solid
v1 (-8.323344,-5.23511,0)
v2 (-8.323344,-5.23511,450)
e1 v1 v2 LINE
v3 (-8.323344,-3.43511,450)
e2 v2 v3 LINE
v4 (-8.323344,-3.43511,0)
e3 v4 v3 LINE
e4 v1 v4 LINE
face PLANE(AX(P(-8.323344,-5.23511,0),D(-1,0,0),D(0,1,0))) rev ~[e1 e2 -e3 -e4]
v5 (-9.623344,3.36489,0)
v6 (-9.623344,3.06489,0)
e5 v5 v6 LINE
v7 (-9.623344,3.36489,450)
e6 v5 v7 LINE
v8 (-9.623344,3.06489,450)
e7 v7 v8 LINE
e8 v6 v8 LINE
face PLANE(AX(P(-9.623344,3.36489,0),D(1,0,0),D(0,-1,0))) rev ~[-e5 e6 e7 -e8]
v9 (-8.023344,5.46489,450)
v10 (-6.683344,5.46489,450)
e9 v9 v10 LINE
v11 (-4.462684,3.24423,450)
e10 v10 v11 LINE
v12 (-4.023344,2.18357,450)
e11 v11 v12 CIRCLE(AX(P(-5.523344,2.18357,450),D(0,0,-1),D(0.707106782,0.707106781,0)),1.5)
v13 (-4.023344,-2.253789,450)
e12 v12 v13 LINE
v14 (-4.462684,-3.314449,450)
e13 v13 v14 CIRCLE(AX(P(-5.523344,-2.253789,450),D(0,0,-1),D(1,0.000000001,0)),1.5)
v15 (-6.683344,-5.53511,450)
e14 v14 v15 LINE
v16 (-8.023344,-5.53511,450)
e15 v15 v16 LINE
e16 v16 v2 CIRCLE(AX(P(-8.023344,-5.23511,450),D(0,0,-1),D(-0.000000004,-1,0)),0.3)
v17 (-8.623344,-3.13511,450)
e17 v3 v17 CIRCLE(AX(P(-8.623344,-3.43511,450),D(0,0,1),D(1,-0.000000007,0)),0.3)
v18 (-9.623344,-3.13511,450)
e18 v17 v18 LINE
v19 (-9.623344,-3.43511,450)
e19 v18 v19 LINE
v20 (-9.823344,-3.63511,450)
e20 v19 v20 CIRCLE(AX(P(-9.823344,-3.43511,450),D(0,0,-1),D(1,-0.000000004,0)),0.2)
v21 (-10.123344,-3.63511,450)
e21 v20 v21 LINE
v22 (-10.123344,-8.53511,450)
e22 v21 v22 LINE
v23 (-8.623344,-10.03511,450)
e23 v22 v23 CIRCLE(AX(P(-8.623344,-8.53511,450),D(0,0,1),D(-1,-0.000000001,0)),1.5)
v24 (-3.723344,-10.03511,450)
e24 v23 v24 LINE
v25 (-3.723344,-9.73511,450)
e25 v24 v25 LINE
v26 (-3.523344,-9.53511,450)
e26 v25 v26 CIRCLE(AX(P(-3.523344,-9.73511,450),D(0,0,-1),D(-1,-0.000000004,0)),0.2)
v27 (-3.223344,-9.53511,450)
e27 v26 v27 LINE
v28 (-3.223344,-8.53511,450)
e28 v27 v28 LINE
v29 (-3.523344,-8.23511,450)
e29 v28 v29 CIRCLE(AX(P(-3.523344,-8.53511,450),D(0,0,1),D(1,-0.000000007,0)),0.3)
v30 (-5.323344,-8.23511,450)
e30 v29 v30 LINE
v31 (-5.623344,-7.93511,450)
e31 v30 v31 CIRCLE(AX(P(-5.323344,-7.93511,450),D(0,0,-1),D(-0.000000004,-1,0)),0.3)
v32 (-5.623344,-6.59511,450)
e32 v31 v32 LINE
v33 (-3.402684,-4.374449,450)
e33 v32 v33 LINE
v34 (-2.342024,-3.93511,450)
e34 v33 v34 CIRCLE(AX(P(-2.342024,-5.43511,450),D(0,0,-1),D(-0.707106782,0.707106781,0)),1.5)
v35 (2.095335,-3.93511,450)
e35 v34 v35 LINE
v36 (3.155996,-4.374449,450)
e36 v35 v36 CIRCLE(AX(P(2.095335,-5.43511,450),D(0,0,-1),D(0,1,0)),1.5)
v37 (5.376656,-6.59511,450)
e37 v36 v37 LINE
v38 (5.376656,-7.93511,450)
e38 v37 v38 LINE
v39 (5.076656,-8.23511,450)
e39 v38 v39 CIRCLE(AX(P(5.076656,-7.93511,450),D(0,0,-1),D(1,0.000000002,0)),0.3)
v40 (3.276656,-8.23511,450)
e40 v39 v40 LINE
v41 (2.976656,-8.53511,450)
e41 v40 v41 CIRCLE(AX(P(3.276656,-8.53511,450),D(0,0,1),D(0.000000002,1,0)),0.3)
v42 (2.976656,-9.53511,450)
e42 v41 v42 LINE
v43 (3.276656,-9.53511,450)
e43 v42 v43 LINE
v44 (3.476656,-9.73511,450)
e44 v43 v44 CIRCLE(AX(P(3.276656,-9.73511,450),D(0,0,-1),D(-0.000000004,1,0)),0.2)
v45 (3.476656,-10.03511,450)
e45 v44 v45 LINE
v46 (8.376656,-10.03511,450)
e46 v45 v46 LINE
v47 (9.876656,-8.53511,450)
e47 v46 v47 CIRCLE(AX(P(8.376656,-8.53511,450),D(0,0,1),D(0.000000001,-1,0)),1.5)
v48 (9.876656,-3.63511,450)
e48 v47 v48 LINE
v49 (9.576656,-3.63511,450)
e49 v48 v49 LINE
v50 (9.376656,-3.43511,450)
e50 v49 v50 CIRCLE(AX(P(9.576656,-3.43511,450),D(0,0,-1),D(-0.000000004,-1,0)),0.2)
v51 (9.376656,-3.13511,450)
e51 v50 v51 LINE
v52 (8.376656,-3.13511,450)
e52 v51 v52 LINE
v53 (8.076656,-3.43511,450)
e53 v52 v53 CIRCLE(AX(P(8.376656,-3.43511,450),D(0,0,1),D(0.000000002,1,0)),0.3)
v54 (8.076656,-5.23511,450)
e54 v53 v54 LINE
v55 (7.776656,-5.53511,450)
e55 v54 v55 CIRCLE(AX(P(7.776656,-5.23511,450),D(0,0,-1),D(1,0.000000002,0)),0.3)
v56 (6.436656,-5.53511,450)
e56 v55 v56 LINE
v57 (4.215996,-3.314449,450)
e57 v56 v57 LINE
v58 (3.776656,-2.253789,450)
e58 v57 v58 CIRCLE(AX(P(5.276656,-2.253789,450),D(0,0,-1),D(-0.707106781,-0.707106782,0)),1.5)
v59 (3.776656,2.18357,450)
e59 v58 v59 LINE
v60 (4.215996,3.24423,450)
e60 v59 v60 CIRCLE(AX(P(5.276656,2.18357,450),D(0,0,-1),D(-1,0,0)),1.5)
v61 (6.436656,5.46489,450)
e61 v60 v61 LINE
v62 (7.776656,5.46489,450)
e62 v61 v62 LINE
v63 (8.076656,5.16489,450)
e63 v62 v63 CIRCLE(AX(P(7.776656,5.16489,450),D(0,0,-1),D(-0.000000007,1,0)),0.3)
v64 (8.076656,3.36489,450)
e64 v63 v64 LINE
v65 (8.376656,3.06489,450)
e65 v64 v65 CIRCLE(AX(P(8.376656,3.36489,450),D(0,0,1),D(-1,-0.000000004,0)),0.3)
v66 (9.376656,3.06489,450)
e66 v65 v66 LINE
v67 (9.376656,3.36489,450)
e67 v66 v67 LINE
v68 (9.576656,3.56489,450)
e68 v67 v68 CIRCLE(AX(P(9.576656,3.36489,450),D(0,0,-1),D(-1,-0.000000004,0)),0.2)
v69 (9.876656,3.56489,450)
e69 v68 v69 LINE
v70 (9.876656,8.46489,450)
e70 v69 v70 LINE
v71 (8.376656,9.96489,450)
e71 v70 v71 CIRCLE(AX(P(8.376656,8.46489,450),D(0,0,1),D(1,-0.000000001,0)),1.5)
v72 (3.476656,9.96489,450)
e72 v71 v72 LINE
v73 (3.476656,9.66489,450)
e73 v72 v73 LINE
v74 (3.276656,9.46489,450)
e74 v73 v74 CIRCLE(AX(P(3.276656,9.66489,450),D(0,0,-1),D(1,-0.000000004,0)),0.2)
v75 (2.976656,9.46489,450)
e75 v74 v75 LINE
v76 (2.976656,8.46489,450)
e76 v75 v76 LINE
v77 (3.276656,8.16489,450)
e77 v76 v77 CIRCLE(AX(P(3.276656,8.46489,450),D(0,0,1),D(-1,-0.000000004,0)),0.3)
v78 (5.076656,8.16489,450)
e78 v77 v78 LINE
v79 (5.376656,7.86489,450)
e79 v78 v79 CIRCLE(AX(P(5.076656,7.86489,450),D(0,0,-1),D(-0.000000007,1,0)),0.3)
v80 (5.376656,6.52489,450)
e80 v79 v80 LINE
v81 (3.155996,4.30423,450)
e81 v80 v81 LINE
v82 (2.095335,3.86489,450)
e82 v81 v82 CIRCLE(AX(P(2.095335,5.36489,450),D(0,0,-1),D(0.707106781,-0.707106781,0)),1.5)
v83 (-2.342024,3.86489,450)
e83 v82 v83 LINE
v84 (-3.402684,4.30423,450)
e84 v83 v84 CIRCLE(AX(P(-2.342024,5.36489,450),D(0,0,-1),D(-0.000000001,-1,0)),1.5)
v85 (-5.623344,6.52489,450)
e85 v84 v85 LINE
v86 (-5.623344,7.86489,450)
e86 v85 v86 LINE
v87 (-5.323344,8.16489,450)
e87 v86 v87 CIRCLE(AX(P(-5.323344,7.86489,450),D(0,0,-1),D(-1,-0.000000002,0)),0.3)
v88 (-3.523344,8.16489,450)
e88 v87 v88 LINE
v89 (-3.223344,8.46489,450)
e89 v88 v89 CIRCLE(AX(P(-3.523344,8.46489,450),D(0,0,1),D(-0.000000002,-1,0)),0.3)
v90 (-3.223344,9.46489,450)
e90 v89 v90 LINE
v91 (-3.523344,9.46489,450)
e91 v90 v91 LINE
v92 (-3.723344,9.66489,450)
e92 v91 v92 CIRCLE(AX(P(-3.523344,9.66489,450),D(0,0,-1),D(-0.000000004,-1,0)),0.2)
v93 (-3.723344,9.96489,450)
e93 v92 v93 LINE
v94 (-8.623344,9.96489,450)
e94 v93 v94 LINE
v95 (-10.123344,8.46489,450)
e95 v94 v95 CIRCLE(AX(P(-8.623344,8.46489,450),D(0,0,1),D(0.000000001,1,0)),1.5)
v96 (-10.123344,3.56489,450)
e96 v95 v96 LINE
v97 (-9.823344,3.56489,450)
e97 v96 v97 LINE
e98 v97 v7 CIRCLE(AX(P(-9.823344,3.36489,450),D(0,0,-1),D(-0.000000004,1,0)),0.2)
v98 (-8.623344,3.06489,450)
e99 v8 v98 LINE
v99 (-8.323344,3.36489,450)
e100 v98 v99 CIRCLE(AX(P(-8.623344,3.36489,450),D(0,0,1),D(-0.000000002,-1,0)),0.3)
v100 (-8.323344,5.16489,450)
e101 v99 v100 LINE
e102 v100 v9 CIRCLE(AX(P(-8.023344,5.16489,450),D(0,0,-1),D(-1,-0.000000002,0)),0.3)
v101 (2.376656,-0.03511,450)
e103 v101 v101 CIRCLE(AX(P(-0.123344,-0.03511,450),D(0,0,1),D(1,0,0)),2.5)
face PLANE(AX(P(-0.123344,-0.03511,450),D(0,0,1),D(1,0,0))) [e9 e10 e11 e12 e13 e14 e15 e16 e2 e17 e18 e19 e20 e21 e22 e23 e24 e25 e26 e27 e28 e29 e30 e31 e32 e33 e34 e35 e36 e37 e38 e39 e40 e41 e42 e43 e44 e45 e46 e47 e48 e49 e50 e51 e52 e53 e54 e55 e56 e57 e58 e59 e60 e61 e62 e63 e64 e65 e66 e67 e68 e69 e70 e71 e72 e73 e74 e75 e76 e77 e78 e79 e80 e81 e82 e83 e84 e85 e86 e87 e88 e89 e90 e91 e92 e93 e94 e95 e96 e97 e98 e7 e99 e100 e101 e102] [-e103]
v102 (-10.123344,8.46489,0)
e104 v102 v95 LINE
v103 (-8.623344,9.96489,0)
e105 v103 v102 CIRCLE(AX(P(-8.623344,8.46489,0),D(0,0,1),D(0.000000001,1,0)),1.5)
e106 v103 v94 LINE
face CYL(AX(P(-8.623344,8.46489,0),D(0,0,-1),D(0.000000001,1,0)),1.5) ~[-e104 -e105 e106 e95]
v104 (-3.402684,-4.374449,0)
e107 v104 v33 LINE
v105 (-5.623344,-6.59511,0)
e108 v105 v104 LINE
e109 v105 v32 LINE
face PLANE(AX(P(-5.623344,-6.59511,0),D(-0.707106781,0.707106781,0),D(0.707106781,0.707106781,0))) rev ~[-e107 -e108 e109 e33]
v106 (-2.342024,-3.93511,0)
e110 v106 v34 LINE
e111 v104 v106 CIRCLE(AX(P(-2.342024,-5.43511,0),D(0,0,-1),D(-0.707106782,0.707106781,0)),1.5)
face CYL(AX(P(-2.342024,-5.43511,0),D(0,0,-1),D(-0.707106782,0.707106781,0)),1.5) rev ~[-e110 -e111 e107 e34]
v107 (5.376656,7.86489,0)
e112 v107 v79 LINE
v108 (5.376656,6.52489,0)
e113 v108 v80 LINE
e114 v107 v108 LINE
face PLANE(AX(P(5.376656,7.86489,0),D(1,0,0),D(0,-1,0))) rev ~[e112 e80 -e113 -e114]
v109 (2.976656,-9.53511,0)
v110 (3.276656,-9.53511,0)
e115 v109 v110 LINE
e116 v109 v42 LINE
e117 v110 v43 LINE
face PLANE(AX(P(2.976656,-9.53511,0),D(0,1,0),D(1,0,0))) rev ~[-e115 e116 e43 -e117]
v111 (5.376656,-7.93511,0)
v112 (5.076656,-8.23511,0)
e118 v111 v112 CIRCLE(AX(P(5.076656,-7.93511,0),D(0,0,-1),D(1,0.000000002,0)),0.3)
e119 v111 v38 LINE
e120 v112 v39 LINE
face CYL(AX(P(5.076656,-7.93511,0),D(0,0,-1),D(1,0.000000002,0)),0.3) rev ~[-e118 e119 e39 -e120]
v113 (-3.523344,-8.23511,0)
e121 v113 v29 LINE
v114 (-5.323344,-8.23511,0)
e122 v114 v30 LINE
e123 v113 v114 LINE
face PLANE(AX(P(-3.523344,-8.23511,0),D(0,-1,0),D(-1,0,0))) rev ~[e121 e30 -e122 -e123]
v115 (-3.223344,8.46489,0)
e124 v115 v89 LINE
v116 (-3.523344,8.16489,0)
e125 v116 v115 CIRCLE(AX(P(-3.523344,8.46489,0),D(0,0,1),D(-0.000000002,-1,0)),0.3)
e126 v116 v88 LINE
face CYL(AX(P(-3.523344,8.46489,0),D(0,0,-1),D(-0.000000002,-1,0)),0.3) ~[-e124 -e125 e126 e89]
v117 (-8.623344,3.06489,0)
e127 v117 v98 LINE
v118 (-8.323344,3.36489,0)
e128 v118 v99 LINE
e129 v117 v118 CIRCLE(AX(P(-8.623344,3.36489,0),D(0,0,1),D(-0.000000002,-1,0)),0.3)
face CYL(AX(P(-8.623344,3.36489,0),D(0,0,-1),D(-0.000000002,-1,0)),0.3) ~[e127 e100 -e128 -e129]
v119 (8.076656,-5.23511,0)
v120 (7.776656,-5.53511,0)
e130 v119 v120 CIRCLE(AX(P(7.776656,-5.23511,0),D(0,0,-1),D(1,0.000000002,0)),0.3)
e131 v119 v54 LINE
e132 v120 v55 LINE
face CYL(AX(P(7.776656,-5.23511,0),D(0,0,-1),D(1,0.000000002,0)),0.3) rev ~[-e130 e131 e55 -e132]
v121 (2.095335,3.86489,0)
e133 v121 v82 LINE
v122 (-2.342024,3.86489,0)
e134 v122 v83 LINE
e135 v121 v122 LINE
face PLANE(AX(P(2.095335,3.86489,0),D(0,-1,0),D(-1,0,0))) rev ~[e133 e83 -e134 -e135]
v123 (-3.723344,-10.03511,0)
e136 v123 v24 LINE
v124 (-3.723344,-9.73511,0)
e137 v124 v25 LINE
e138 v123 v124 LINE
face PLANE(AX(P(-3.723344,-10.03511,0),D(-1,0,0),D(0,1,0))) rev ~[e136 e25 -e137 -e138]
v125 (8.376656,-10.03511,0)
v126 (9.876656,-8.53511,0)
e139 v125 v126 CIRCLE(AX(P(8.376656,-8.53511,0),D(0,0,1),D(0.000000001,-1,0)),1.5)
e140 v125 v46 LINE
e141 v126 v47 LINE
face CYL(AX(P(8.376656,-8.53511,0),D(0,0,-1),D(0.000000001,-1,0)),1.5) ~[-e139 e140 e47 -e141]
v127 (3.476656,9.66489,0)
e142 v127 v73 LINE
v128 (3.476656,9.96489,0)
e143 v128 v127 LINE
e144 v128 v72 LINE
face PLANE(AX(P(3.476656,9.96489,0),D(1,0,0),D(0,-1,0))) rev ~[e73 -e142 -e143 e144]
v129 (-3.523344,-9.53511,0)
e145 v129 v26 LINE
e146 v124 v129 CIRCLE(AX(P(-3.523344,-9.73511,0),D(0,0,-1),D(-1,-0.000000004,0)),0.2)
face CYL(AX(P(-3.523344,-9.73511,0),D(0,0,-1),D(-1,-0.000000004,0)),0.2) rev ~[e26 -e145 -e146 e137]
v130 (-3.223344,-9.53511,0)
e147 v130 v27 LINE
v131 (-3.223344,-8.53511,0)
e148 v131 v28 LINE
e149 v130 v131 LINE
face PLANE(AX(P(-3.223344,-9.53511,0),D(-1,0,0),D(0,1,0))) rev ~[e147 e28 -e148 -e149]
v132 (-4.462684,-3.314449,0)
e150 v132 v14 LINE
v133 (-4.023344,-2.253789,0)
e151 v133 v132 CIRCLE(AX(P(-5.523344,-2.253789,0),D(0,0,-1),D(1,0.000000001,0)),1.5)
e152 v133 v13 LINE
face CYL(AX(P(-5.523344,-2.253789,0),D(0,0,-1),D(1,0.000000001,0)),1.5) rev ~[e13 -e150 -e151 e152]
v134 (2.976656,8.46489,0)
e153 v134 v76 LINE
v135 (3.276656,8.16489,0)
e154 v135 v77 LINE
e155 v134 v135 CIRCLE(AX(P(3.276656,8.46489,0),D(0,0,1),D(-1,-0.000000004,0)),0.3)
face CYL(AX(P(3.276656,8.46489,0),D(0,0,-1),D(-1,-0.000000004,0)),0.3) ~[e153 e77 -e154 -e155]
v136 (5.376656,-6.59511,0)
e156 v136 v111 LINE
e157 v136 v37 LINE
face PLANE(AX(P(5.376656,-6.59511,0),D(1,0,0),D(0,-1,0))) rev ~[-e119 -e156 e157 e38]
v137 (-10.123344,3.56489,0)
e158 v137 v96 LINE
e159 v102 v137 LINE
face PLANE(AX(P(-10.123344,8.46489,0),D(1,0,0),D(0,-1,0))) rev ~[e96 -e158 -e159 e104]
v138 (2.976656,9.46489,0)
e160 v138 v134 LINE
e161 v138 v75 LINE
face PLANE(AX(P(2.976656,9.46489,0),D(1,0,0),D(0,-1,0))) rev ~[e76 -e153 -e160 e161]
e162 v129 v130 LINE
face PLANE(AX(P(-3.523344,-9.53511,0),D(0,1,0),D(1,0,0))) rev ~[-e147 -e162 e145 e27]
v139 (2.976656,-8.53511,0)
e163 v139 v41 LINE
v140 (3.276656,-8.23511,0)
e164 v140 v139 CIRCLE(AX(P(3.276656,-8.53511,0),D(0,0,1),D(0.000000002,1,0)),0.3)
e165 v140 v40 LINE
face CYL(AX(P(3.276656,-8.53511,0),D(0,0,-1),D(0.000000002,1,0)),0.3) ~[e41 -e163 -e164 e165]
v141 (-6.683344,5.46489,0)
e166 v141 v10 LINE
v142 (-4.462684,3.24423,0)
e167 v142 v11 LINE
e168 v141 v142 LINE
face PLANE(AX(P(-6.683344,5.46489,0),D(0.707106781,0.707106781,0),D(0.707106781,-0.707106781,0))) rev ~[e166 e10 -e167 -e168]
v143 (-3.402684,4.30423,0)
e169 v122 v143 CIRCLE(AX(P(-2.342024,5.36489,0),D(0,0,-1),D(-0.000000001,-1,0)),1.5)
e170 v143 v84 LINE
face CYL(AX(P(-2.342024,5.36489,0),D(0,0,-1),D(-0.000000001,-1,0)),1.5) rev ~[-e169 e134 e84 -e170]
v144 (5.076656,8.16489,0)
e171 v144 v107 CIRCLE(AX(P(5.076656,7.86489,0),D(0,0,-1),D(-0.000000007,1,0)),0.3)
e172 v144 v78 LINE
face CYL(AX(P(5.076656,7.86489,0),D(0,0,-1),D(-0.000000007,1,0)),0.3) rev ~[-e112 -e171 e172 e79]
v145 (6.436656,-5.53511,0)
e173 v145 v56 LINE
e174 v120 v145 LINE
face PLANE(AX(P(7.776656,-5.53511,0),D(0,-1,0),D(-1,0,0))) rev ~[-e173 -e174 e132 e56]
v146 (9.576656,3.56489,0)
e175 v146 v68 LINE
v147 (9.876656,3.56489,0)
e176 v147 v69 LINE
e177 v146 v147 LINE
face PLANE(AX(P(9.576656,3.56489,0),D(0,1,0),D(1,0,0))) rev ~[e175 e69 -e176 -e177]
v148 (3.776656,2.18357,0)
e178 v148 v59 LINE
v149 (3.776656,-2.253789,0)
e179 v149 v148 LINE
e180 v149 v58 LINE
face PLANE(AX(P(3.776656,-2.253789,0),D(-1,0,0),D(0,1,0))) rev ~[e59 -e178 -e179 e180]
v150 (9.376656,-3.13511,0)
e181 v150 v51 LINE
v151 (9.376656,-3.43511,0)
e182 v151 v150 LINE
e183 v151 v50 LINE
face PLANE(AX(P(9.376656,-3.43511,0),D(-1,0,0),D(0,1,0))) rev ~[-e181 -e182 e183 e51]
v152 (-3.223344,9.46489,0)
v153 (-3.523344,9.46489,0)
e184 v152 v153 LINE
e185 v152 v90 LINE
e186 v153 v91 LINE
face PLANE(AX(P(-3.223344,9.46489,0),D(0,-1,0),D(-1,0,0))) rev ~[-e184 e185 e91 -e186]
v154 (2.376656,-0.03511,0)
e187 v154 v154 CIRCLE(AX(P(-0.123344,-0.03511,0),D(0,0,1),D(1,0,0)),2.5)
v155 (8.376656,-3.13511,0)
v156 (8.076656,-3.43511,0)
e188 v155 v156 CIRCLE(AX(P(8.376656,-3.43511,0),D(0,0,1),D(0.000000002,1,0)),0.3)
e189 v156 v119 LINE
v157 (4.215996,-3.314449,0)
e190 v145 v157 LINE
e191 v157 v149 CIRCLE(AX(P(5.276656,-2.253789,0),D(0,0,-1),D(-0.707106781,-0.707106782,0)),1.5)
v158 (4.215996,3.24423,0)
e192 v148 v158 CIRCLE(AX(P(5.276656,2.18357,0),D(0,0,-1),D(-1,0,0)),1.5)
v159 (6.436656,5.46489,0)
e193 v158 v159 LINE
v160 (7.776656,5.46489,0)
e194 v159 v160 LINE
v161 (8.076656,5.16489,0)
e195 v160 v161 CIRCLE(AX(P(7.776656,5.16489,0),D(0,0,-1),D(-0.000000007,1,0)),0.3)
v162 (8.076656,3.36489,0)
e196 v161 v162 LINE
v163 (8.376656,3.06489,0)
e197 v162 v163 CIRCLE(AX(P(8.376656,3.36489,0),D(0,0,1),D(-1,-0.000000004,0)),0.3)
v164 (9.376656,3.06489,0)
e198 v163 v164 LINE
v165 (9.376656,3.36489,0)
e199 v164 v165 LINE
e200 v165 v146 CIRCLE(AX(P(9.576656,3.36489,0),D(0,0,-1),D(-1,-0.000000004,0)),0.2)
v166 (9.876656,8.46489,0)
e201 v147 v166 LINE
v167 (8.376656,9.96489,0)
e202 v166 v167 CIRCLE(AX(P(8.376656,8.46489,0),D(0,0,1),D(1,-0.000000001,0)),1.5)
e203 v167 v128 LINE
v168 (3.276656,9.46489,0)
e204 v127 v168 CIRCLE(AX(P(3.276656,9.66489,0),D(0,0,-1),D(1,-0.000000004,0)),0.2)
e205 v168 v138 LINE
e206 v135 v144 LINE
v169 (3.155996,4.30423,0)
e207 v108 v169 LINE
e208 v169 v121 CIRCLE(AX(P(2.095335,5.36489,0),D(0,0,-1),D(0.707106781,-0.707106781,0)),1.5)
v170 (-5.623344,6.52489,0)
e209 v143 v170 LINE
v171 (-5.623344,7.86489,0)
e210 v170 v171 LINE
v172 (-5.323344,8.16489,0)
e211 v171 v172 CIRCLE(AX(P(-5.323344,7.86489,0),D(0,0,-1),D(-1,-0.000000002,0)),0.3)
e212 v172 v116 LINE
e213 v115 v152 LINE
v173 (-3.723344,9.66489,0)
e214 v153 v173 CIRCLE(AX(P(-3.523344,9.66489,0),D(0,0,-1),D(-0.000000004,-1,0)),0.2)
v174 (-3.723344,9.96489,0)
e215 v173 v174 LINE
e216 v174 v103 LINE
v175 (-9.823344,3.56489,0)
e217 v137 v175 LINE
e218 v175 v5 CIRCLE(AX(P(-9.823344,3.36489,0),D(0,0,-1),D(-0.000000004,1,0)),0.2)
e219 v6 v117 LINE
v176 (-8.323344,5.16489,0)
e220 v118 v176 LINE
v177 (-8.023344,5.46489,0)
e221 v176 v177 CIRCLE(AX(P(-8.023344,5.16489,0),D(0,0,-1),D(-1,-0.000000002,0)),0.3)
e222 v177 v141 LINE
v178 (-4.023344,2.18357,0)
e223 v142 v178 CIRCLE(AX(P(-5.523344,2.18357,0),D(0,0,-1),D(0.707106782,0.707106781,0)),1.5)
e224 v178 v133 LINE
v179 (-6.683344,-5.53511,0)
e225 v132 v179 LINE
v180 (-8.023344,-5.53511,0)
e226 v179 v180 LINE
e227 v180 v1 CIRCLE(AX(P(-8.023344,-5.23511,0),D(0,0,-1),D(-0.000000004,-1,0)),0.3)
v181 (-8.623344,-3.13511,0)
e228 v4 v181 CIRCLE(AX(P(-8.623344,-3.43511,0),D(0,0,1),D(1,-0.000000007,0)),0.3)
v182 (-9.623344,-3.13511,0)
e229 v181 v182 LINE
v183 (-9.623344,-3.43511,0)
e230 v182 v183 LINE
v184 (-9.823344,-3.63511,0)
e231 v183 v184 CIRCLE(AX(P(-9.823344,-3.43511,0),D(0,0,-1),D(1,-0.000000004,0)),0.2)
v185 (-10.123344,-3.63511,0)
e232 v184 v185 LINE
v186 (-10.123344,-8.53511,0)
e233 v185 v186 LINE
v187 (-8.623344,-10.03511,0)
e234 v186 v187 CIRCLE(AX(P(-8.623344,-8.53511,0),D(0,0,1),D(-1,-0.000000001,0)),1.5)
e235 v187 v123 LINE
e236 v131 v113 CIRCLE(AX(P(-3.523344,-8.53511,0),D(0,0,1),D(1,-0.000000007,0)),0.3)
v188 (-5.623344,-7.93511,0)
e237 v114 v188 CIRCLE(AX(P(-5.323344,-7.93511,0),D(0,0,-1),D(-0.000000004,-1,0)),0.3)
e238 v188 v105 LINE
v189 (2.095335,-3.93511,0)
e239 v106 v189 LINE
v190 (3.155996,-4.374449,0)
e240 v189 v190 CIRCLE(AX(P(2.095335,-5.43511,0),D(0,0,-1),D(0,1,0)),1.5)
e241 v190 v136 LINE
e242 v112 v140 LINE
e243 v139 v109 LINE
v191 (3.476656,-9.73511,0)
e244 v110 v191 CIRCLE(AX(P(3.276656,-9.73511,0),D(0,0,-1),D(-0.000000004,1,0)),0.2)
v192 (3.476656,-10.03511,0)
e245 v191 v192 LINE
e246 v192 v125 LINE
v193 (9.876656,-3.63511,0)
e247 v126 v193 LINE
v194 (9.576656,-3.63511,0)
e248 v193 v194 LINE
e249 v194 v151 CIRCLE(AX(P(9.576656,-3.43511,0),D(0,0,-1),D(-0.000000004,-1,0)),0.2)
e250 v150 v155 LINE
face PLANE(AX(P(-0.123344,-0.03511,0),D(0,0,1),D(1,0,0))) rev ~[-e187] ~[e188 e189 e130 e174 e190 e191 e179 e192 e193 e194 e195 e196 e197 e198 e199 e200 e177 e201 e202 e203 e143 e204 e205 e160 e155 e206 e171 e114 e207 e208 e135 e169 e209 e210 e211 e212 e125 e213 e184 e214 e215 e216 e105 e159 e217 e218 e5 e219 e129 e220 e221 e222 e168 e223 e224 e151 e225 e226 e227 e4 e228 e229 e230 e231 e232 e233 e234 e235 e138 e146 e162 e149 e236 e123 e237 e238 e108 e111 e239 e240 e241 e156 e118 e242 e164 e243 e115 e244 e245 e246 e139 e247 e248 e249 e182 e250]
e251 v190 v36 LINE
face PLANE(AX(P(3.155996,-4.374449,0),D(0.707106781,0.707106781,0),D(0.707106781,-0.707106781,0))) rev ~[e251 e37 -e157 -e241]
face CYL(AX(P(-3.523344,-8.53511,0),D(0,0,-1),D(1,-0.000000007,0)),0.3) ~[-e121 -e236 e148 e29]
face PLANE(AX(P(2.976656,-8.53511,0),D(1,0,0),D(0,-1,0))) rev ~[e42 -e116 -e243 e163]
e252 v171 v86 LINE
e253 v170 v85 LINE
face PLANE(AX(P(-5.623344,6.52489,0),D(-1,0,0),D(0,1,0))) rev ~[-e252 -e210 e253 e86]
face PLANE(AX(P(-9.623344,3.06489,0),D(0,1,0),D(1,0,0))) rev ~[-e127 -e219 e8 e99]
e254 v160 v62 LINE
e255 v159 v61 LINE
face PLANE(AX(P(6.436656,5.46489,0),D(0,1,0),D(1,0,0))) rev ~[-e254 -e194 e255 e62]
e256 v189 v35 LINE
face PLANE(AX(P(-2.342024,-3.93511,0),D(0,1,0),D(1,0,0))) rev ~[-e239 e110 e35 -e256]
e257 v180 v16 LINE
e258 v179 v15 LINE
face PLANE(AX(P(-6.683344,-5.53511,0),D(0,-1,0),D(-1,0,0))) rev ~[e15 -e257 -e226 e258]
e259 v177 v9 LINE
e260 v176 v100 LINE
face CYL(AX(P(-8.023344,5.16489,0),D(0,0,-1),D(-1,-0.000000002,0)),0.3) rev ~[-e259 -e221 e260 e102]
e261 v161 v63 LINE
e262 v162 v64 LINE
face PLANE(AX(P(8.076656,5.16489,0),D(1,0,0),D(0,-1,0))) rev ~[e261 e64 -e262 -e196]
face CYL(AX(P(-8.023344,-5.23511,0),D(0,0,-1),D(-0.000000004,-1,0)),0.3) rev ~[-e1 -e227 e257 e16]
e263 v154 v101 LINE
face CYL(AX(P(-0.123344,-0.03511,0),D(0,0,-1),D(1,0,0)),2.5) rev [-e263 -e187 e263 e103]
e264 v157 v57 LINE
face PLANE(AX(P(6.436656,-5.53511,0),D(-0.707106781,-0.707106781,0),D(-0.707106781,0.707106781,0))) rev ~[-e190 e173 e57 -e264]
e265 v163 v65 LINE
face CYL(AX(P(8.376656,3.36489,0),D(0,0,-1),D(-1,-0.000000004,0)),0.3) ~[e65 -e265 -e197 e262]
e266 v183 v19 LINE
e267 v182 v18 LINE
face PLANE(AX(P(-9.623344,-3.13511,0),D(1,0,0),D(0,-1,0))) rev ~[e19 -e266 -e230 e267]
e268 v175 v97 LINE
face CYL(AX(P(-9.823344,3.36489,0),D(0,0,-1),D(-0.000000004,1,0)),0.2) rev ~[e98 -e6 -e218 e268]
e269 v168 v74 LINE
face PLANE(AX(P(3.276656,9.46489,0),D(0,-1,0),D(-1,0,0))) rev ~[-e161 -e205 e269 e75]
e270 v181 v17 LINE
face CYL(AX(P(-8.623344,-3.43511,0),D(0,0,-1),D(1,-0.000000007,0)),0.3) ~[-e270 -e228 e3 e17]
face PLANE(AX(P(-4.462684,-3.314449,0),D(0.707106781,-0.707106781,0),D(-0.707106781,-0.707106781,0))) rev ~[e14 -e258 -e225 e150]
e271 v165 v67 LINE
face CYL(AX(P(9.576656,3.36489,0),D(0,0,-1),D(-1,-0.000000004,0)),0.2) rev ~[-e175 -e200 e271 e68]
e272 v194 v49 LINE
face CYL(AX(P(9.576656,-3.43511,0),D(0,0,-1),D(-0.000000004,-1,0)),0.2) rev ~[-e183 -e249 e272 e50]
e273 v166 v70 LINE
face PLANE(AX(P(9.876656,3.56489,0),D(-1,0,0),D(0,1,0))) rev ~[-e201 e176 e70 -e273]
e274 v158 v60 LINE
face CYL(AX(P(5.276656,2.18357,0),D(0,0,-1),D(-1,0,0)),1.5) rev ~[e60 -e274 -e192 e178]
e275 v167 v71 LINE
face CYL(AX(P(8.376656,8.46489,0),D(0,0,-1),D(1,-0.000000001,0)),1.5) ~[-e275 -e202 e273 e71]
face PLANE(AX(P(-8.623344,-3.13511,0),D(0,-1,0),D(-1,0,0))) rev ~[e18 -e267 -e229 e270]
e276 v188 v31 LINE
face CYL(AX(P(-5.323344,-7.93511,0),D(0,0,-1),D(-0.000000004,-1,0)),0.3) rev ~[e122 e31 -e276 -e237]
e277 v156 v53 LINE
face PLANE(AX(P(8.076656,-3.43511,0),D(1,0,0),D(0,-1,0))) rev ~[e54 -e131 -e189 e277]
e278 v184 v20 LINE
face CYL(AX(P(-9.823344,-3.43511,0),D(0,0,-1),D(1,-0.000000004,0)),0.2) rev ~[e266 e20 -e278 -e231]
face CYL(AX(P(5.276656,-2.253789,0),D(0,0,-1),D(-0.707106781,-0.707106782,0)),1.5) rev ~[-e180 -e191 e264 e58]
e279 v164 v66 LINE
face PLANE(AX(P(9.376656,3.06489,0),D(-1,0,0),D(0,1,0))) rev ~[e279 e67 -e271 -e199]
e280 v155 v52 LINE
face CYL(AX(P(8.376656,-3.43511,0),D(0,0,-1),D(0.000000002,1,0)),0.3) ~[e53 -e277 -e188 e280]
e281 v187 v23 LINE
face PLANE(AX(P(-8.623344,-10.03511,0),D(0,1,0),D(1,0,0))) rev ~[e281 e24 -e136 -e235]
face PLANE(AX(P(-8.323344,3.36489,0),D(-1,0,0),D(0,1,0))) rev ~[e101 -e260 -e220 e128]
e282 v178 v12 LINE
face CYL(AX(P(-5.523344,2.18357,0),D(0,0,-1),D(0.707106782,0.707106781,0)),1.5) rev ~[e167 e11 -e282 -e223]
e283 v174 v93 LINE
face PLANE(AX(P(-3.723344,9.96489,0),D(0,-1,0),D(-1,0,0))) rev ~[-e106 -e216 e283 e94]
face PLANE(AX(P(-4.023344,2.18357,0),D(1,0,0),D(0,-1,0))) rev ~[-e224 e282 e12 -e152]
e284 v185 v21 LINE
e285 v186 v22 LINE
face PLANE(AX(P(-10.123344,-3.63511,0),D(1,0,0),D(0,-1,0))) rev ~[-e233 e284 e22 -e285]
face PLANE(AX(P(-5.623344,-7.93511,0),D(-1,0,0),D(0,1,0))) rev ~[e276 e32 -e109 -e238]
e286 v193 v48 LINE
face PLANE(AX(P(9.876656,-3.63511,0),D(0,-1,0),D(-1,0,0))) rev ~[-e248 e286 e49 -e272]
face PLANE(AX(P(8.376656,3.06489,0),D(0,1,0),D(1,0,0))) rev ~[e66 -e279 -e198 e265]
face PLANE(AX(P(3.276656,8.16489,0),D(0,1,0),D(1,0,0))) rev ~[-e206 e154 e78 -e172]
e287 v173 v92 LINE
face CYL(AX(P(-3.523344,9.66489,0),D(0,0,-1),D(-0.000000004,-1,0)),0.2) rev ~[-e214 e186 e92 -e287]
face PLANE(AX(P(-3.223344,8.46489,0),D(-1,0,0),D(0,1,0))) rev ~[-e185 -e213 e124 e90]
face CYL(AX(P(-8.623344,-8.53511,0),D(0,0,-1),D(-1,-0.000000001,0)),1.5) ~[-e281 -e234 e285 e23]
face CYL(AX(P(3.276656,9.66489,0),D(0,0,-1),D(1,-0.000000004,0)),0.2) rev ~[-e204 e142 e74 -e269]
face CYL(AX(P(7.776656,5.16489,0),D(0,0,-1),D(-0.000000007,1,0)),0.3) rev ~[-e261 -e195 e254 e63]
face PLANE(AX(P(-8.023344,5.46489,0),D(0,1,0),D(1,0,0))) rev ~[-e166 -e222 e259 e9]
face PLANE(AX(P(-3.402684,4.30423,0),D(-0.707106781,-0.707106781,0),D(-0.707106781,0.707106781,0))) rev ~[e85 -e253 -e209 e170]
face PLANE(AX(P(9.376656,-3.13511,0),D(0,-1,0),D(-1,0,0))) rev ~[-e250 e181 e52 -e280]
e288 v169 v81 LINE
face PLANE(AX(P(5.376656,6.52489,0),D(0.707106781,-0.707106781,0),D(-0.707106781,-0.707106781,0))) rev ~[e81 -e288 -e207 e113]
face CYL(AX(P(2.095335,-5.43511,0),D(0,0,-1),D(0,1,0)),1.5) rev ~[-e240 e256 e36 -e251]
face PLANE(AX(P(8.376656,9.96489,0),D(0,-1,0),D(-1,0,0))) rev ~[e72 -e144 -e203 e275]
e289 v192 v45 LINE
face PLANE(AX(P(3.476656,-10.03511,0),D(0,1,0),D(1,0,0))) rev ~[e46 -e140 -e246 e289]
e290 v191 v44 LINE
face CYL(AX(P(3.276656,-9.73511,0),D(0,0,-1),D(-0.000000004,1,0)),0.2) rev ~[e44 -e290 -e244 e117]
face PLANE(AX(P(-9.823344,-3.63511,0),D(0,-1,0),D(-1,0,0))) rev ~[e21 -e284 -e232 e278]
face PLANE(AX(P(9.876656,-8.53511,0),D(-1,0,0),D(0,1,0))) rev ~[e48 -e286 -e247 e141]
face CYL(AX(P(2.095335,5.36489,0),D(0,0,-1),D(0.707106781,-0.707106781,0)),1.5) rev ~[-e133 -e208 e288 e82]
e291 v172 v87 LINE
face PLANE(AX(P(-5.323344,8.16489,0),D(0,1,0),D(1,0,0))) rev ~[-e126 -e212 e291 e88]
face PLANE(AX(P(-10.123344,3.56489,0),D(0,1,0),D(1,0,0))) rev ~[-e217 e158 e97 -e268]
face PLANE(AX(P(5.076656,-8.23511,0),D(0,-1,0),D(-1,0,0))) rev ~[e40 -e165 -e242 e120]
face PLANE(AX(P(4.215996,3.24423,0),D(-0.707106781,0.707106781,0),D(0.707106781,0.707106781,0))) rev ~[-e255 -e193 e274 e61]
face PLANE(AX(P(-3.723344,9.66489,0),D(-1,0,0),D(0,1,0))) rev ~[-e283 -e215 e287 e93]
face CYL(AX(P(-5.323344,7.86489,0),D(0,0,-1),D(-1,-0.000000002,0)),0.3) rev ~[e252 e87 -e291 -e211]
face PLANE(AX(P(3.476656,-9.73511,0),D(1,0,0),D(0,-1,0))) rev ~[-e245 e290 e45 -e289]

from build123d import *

# Parameters (mm, degrees)
SKETCH_1_R      = 2.5
EXTRUDE_1_DEPTH = 450


with BuildPart() as part:
    # 草图1 → 凸台-拉伸1 (new body)
    with BuildSketch(Plane.XY):
        with BuildLine():
            Line((4.215995631, 3.244230202), (6.436655803, 5.464890373))
            Line((6.436655803, 5.464890373), (7.776655803, 5.464890373))
            ThreePointArc((7.776655803, 5.464890373), (7.988787838, 5.377022408), (8.076655803, 5.164890373))
            Line((8.076655803, 5.164890373), (8.076655803, 3.364890373))
            ThreePointArc((8.076655803, 3.364890373), (8.164523769, 3.152758339), (8.376655803, 3.064890373))
            Line((8.376655803, 3.064890373), (9.376655803, 3.064890373))
            Line((9.376655803, 3.064890373), (9.376655803, 3.364890373))
            ThreePointArc((9.376655803, 3.364890373), (9.435234447, 3.50631173), (9.576655803, 3.564890373))
            Line((9.576655803, 3.564890373), (9.876655803, 3.564890373))
            Line((9.876655803, 3.564890373), (9.876655803, 8.464890373))
            ThreePointArc((9.876655803, 8.464890373), (9.437315975, 9.525550545), (8.376655803, 9.964890373))
            Line((8.376655803, 9.964890373), (3.476655803, 9.964890373))
            Line((3.476655803, 9.964890373), (3.476655803, 9.664890373))
            ThreePointArc((3.476655803, 9.664890373), (3.418077159, 9.523469017), (3.276655803, 9.464890373))
            Line((3.276655803, 9.464890373), (2.976655803, 9.464890373))
            Line((2.976655803, 9.464890373), (2.976655803, 8.464890373))
            ThreePointArc((2.976655803, 8.464890373), (3.064523769, 8.252758339), (3.276655803, 8.164890373))
            Line((3.276655803, 8.164890373), (5.076655803, 8.164890373))
            ThreePointArc((5.076655803, 8.164890373), (5.288787838, 8.077022408), (5.376655803, 7.864890373))
            Line((5.376655803, 7.864890373), (5.376655803, 6.524890373))
            Line((5.376655803, 6.524890373), (3.155995631, 4.304230202))
            ThreePointArc((3.155995631, 4.304230202), (2.669360608, 3.979071075), (2.09533546, 3.864890373))
            Line((2.09533546, 3.864890373), (-2.342023853, 3.864890373))
            ThreePointArc((-2.342023853, 3.864890373), (-2.916049002, 3.979071075), (-3.402684025, 4.304230202))
            Line((-3.402684025, 4.304230202), (-5.623344197, 6.524890373))
            Line((-5.623344197, 6.524890373), (-5.623344197, 7.864890373))
            ThreePointArc((-5.623344197, 7.864890373), (-5.535476231, 8.077022408), (-5.323344197, 8.164890373))
            Line((-5.323344197, 8.164890373), (-3.523344197, 8.164890373))
            ThreePointArc((-3.523344197, 8.164890373), (-3.311212162, 8.252758339), (-3.223344197, 8.464890373))
            Line((-3.223344197, 8.464890373), (-3.223344197, 9.464890373))
            Line((-3.223344197, 9.464890373), (-3.523344197, 9.464890373))
            ThreePointArc((-3.523344197, 9.464890373), (-3.664765553, 9.523469017), (-3.723344197, 9.664890373))
            Line((-3.723344197, 9.664890373), (-3.723344197, 9.964890373))
            Line((-3.723344197, 9.964890373), (-8.623344197, 9.964890373))
            ThreePointArc((-8.623344197, 9.964890373), (-9.684004369, 9.525550545), (-10.123344197, 8.464890373))
            Line((-10.123344197, 8.464890373), (-10.123344197, 3.564890373))
            Line((-10.123344197, 3.564890373), (-9.823344197, 3.564890373))
            ThreePointArc((-9.823344197, 3.564890373), (-9.681922841, 3.50631173), (-9.623344197, 3.364890373))
            Line((-9.623344197, 3.364890373), (-9.623344197, 3.064890373))
            Line((-9.623344197, 3.064890373), (-8.623344197, 3.064890373))
            ThreePointArc((-8.623344197, 3.064890373), (-8.411212162, 3.152758339), (-8.323344197, 3.364890373))
            Line((-8.323344197, 3.364890373), (-8.323344197, 5.164890373))
            ThreePointArc((-8.323344197, 5.164890373), (-8.235476231, 5.377022408), (-8.023344197, 5.464890373))
            Line((-8.023344197, 5.464890373), (-6.683344197, 5.464890373))
            Line((-6.683344197, 5.464890373), (-4.462684025, 3.244230202))
            ThreePointArc((-4.462684025, 3.244230202), (-4.137524898, 2.757595178), (-4.023344197, 2.18357003))
            Line((-4.023344197, 2.18357003), (-4.023344197, -2.253789283))
            ThreePointArc((-4.023344197, -2.253789283), (-4.137524898, -2.827814432), (-4.462684025, -3.314449455))
            Line((-4.462684025, -3.314449455), (-6.683344197, -5.535109627))
            Line((-6.683344197, -5.535109627), (-8.023344197, -5.535109627))
            ThreePointArc((-8.023344197, -5.535109627), (-8.235476231, -5.447241661), (-8.323344197, -5.235109627))
            Line((-8.323344197, -5.235109627), (-8.323344197, -3.435109627))
            ThreePointArc((-8.323344197, -3.435109627), (-8.411212162, -3.222977592), (-8.623344197, -3.135109627))
            Line((-8.623344197, -3.135109627), (-9.623344197, -3.135109627))
            Line((-9.623344197, -3.135109627), (-9.623344197, -3.435109627))
            ThreePointArc((-9.623344197, -3.435109627), (-9.681922841, -3.576530983), (-9.823344197, -3.635109627))
            Line((-9.823344197, -3.635109627), (-10.123344197, -3.635109627))
            Line((-10.123344197, -3.635109627), (-10.123344197, -8.535109627))
            ThreePointArc((-10.123344197, -8.535109627), (-9.684004369, -9.595769798), (-8.623344197, -10.035109627))
            Line((-8.623344197, -10.035109627), (-3.723344197, -10.035109627))
            Line((-3.723344197, -10.035109627), (-3.723344197, -9.735109627))
            ThreePointArc((-3.723344197, -9.735109627), (-3.664765553, -9.59368827), (-3.523344197, -9.535109627))
            Line((-3.523344197, -9.535109627), (-3.223344197, -9.535109627))
            Line((-3.223344197, -9.535109627), (-3.223344197, -8.535109627))
            ThreePointArc((-3.223344197, -8.535109627), (-3.311212162, -8.322977592), (-3.523344197, -8.235109627))
            Line((-3.523344197, -8.235109627), (-5.323344197, -8.235109627))
            ThreePointArc((-5.323344197, -8.235109627), (-5.535476231, -8.147241661), (-5.623344197, -7.935109627))
            Line((-5.623344197, -7.935109627), (-5.623344197, -6.595109627))
            Line((-5.623344197, -6.595109627), (-3.402684025, -4.374449455))
            ThreePointArc((-3.402684025, -4.374449455), (-2.916049002, -4.049290328), (-2.342023853, -3.935109627))
            Line((-2.342023853, -3.935109627), (2.09533546, -3.935109627))
            ThreePointArc((2.09533546, -3.935109627), (2.669360608, -4.049290328), (3.155995631, -4.374449455))
            Line((3.155995631, -4.374449455), (5.376655803, -6.595109627))
            Line((5.376655803, -6.595109627), (5.376655803, -7.935109627))
            ThreePointArc((5.376655803, -7.935109627), (5.288787838, -8.147241661), (5.076655803, -8.235109627))
            Line((5.076655803, -8.235109627), (3.276655803, -8.235109627))
            ThreePointArc((3.276655803, -8.235109627), (3.064523769, -8.322977592), (2.976655803, -8.535109627))
            Line((2.976655803, -8.535109627), (2.976655803, -9.535109627))
            Line((2.976655803, -9.535109627), (3.276655803, -9.535109627))
            ThreePointArc((3.276655803, -9.535109627), (3.418077159, -9.59368827), (3.476655803, -9.735109627))
            Line((3.476655803, -9.735109627), (3.476655803, -10.035109627))
            Line((3.476655803, -10.035109627), (8.376655803, -10.035109627))
            ThreePointArc((8.376655803, -10.035109627), (9.437315975, -9.595769798), (9.876655803, -8.535109627))
            Line((9.876655803, -8.535109627), (9.876655803, -3.635109627))
            Line((9.876655803, -3.635109627), (9.576655803, -3.635109627))
            ThreePointArc((9.576655803, -3.635109627), (9.435234447, -3.576530983), (9.376655803, -3.435109627))
            Line((9.376655803, -3.435109627), (9.376655803, -3.135109627))
            Line((9.376655803, -3.135109627), (8.376655803, -3.135109627))
            ThreePointArc((8.376655803, -3.135109627), (8.164523769, -3.222977592), (8.076655803, -3.435109627))
            Line((8.076655803, -3.435109627), (8.076655803, -5.235109627))
            ThreePointArc((8.076655803, -5.235109627), (7.988787838, -5.447241661), (7.776655803, -5.535109627))
            Line((7.776655803, -5.535109627), (6.436655803, -5.535109627))
            Line((6.436655803, -5.535109627), (4.215995631, -3.314449455))
            ThreePointArc((4.215995631, -3.314449455), (3.890836504, -2.827814432), (3.776655803, -2.253789283))
            Line((3.776655803, -2.253789283), (3.776655803, 2.18357003))
            ThreePointArc((3.776655803, 2.18357003), (3.890836504, 2.757595178), (4.215995631, 3.244230202))
        make_face()
        with Locations((-0.123344197, -0.035109627)):
            Circle(SKETCH_1_R, mode=Mode.SUBTRACT)
    extrude(amount=EXTRUDE_1_DEPTH)


solid = part.part
